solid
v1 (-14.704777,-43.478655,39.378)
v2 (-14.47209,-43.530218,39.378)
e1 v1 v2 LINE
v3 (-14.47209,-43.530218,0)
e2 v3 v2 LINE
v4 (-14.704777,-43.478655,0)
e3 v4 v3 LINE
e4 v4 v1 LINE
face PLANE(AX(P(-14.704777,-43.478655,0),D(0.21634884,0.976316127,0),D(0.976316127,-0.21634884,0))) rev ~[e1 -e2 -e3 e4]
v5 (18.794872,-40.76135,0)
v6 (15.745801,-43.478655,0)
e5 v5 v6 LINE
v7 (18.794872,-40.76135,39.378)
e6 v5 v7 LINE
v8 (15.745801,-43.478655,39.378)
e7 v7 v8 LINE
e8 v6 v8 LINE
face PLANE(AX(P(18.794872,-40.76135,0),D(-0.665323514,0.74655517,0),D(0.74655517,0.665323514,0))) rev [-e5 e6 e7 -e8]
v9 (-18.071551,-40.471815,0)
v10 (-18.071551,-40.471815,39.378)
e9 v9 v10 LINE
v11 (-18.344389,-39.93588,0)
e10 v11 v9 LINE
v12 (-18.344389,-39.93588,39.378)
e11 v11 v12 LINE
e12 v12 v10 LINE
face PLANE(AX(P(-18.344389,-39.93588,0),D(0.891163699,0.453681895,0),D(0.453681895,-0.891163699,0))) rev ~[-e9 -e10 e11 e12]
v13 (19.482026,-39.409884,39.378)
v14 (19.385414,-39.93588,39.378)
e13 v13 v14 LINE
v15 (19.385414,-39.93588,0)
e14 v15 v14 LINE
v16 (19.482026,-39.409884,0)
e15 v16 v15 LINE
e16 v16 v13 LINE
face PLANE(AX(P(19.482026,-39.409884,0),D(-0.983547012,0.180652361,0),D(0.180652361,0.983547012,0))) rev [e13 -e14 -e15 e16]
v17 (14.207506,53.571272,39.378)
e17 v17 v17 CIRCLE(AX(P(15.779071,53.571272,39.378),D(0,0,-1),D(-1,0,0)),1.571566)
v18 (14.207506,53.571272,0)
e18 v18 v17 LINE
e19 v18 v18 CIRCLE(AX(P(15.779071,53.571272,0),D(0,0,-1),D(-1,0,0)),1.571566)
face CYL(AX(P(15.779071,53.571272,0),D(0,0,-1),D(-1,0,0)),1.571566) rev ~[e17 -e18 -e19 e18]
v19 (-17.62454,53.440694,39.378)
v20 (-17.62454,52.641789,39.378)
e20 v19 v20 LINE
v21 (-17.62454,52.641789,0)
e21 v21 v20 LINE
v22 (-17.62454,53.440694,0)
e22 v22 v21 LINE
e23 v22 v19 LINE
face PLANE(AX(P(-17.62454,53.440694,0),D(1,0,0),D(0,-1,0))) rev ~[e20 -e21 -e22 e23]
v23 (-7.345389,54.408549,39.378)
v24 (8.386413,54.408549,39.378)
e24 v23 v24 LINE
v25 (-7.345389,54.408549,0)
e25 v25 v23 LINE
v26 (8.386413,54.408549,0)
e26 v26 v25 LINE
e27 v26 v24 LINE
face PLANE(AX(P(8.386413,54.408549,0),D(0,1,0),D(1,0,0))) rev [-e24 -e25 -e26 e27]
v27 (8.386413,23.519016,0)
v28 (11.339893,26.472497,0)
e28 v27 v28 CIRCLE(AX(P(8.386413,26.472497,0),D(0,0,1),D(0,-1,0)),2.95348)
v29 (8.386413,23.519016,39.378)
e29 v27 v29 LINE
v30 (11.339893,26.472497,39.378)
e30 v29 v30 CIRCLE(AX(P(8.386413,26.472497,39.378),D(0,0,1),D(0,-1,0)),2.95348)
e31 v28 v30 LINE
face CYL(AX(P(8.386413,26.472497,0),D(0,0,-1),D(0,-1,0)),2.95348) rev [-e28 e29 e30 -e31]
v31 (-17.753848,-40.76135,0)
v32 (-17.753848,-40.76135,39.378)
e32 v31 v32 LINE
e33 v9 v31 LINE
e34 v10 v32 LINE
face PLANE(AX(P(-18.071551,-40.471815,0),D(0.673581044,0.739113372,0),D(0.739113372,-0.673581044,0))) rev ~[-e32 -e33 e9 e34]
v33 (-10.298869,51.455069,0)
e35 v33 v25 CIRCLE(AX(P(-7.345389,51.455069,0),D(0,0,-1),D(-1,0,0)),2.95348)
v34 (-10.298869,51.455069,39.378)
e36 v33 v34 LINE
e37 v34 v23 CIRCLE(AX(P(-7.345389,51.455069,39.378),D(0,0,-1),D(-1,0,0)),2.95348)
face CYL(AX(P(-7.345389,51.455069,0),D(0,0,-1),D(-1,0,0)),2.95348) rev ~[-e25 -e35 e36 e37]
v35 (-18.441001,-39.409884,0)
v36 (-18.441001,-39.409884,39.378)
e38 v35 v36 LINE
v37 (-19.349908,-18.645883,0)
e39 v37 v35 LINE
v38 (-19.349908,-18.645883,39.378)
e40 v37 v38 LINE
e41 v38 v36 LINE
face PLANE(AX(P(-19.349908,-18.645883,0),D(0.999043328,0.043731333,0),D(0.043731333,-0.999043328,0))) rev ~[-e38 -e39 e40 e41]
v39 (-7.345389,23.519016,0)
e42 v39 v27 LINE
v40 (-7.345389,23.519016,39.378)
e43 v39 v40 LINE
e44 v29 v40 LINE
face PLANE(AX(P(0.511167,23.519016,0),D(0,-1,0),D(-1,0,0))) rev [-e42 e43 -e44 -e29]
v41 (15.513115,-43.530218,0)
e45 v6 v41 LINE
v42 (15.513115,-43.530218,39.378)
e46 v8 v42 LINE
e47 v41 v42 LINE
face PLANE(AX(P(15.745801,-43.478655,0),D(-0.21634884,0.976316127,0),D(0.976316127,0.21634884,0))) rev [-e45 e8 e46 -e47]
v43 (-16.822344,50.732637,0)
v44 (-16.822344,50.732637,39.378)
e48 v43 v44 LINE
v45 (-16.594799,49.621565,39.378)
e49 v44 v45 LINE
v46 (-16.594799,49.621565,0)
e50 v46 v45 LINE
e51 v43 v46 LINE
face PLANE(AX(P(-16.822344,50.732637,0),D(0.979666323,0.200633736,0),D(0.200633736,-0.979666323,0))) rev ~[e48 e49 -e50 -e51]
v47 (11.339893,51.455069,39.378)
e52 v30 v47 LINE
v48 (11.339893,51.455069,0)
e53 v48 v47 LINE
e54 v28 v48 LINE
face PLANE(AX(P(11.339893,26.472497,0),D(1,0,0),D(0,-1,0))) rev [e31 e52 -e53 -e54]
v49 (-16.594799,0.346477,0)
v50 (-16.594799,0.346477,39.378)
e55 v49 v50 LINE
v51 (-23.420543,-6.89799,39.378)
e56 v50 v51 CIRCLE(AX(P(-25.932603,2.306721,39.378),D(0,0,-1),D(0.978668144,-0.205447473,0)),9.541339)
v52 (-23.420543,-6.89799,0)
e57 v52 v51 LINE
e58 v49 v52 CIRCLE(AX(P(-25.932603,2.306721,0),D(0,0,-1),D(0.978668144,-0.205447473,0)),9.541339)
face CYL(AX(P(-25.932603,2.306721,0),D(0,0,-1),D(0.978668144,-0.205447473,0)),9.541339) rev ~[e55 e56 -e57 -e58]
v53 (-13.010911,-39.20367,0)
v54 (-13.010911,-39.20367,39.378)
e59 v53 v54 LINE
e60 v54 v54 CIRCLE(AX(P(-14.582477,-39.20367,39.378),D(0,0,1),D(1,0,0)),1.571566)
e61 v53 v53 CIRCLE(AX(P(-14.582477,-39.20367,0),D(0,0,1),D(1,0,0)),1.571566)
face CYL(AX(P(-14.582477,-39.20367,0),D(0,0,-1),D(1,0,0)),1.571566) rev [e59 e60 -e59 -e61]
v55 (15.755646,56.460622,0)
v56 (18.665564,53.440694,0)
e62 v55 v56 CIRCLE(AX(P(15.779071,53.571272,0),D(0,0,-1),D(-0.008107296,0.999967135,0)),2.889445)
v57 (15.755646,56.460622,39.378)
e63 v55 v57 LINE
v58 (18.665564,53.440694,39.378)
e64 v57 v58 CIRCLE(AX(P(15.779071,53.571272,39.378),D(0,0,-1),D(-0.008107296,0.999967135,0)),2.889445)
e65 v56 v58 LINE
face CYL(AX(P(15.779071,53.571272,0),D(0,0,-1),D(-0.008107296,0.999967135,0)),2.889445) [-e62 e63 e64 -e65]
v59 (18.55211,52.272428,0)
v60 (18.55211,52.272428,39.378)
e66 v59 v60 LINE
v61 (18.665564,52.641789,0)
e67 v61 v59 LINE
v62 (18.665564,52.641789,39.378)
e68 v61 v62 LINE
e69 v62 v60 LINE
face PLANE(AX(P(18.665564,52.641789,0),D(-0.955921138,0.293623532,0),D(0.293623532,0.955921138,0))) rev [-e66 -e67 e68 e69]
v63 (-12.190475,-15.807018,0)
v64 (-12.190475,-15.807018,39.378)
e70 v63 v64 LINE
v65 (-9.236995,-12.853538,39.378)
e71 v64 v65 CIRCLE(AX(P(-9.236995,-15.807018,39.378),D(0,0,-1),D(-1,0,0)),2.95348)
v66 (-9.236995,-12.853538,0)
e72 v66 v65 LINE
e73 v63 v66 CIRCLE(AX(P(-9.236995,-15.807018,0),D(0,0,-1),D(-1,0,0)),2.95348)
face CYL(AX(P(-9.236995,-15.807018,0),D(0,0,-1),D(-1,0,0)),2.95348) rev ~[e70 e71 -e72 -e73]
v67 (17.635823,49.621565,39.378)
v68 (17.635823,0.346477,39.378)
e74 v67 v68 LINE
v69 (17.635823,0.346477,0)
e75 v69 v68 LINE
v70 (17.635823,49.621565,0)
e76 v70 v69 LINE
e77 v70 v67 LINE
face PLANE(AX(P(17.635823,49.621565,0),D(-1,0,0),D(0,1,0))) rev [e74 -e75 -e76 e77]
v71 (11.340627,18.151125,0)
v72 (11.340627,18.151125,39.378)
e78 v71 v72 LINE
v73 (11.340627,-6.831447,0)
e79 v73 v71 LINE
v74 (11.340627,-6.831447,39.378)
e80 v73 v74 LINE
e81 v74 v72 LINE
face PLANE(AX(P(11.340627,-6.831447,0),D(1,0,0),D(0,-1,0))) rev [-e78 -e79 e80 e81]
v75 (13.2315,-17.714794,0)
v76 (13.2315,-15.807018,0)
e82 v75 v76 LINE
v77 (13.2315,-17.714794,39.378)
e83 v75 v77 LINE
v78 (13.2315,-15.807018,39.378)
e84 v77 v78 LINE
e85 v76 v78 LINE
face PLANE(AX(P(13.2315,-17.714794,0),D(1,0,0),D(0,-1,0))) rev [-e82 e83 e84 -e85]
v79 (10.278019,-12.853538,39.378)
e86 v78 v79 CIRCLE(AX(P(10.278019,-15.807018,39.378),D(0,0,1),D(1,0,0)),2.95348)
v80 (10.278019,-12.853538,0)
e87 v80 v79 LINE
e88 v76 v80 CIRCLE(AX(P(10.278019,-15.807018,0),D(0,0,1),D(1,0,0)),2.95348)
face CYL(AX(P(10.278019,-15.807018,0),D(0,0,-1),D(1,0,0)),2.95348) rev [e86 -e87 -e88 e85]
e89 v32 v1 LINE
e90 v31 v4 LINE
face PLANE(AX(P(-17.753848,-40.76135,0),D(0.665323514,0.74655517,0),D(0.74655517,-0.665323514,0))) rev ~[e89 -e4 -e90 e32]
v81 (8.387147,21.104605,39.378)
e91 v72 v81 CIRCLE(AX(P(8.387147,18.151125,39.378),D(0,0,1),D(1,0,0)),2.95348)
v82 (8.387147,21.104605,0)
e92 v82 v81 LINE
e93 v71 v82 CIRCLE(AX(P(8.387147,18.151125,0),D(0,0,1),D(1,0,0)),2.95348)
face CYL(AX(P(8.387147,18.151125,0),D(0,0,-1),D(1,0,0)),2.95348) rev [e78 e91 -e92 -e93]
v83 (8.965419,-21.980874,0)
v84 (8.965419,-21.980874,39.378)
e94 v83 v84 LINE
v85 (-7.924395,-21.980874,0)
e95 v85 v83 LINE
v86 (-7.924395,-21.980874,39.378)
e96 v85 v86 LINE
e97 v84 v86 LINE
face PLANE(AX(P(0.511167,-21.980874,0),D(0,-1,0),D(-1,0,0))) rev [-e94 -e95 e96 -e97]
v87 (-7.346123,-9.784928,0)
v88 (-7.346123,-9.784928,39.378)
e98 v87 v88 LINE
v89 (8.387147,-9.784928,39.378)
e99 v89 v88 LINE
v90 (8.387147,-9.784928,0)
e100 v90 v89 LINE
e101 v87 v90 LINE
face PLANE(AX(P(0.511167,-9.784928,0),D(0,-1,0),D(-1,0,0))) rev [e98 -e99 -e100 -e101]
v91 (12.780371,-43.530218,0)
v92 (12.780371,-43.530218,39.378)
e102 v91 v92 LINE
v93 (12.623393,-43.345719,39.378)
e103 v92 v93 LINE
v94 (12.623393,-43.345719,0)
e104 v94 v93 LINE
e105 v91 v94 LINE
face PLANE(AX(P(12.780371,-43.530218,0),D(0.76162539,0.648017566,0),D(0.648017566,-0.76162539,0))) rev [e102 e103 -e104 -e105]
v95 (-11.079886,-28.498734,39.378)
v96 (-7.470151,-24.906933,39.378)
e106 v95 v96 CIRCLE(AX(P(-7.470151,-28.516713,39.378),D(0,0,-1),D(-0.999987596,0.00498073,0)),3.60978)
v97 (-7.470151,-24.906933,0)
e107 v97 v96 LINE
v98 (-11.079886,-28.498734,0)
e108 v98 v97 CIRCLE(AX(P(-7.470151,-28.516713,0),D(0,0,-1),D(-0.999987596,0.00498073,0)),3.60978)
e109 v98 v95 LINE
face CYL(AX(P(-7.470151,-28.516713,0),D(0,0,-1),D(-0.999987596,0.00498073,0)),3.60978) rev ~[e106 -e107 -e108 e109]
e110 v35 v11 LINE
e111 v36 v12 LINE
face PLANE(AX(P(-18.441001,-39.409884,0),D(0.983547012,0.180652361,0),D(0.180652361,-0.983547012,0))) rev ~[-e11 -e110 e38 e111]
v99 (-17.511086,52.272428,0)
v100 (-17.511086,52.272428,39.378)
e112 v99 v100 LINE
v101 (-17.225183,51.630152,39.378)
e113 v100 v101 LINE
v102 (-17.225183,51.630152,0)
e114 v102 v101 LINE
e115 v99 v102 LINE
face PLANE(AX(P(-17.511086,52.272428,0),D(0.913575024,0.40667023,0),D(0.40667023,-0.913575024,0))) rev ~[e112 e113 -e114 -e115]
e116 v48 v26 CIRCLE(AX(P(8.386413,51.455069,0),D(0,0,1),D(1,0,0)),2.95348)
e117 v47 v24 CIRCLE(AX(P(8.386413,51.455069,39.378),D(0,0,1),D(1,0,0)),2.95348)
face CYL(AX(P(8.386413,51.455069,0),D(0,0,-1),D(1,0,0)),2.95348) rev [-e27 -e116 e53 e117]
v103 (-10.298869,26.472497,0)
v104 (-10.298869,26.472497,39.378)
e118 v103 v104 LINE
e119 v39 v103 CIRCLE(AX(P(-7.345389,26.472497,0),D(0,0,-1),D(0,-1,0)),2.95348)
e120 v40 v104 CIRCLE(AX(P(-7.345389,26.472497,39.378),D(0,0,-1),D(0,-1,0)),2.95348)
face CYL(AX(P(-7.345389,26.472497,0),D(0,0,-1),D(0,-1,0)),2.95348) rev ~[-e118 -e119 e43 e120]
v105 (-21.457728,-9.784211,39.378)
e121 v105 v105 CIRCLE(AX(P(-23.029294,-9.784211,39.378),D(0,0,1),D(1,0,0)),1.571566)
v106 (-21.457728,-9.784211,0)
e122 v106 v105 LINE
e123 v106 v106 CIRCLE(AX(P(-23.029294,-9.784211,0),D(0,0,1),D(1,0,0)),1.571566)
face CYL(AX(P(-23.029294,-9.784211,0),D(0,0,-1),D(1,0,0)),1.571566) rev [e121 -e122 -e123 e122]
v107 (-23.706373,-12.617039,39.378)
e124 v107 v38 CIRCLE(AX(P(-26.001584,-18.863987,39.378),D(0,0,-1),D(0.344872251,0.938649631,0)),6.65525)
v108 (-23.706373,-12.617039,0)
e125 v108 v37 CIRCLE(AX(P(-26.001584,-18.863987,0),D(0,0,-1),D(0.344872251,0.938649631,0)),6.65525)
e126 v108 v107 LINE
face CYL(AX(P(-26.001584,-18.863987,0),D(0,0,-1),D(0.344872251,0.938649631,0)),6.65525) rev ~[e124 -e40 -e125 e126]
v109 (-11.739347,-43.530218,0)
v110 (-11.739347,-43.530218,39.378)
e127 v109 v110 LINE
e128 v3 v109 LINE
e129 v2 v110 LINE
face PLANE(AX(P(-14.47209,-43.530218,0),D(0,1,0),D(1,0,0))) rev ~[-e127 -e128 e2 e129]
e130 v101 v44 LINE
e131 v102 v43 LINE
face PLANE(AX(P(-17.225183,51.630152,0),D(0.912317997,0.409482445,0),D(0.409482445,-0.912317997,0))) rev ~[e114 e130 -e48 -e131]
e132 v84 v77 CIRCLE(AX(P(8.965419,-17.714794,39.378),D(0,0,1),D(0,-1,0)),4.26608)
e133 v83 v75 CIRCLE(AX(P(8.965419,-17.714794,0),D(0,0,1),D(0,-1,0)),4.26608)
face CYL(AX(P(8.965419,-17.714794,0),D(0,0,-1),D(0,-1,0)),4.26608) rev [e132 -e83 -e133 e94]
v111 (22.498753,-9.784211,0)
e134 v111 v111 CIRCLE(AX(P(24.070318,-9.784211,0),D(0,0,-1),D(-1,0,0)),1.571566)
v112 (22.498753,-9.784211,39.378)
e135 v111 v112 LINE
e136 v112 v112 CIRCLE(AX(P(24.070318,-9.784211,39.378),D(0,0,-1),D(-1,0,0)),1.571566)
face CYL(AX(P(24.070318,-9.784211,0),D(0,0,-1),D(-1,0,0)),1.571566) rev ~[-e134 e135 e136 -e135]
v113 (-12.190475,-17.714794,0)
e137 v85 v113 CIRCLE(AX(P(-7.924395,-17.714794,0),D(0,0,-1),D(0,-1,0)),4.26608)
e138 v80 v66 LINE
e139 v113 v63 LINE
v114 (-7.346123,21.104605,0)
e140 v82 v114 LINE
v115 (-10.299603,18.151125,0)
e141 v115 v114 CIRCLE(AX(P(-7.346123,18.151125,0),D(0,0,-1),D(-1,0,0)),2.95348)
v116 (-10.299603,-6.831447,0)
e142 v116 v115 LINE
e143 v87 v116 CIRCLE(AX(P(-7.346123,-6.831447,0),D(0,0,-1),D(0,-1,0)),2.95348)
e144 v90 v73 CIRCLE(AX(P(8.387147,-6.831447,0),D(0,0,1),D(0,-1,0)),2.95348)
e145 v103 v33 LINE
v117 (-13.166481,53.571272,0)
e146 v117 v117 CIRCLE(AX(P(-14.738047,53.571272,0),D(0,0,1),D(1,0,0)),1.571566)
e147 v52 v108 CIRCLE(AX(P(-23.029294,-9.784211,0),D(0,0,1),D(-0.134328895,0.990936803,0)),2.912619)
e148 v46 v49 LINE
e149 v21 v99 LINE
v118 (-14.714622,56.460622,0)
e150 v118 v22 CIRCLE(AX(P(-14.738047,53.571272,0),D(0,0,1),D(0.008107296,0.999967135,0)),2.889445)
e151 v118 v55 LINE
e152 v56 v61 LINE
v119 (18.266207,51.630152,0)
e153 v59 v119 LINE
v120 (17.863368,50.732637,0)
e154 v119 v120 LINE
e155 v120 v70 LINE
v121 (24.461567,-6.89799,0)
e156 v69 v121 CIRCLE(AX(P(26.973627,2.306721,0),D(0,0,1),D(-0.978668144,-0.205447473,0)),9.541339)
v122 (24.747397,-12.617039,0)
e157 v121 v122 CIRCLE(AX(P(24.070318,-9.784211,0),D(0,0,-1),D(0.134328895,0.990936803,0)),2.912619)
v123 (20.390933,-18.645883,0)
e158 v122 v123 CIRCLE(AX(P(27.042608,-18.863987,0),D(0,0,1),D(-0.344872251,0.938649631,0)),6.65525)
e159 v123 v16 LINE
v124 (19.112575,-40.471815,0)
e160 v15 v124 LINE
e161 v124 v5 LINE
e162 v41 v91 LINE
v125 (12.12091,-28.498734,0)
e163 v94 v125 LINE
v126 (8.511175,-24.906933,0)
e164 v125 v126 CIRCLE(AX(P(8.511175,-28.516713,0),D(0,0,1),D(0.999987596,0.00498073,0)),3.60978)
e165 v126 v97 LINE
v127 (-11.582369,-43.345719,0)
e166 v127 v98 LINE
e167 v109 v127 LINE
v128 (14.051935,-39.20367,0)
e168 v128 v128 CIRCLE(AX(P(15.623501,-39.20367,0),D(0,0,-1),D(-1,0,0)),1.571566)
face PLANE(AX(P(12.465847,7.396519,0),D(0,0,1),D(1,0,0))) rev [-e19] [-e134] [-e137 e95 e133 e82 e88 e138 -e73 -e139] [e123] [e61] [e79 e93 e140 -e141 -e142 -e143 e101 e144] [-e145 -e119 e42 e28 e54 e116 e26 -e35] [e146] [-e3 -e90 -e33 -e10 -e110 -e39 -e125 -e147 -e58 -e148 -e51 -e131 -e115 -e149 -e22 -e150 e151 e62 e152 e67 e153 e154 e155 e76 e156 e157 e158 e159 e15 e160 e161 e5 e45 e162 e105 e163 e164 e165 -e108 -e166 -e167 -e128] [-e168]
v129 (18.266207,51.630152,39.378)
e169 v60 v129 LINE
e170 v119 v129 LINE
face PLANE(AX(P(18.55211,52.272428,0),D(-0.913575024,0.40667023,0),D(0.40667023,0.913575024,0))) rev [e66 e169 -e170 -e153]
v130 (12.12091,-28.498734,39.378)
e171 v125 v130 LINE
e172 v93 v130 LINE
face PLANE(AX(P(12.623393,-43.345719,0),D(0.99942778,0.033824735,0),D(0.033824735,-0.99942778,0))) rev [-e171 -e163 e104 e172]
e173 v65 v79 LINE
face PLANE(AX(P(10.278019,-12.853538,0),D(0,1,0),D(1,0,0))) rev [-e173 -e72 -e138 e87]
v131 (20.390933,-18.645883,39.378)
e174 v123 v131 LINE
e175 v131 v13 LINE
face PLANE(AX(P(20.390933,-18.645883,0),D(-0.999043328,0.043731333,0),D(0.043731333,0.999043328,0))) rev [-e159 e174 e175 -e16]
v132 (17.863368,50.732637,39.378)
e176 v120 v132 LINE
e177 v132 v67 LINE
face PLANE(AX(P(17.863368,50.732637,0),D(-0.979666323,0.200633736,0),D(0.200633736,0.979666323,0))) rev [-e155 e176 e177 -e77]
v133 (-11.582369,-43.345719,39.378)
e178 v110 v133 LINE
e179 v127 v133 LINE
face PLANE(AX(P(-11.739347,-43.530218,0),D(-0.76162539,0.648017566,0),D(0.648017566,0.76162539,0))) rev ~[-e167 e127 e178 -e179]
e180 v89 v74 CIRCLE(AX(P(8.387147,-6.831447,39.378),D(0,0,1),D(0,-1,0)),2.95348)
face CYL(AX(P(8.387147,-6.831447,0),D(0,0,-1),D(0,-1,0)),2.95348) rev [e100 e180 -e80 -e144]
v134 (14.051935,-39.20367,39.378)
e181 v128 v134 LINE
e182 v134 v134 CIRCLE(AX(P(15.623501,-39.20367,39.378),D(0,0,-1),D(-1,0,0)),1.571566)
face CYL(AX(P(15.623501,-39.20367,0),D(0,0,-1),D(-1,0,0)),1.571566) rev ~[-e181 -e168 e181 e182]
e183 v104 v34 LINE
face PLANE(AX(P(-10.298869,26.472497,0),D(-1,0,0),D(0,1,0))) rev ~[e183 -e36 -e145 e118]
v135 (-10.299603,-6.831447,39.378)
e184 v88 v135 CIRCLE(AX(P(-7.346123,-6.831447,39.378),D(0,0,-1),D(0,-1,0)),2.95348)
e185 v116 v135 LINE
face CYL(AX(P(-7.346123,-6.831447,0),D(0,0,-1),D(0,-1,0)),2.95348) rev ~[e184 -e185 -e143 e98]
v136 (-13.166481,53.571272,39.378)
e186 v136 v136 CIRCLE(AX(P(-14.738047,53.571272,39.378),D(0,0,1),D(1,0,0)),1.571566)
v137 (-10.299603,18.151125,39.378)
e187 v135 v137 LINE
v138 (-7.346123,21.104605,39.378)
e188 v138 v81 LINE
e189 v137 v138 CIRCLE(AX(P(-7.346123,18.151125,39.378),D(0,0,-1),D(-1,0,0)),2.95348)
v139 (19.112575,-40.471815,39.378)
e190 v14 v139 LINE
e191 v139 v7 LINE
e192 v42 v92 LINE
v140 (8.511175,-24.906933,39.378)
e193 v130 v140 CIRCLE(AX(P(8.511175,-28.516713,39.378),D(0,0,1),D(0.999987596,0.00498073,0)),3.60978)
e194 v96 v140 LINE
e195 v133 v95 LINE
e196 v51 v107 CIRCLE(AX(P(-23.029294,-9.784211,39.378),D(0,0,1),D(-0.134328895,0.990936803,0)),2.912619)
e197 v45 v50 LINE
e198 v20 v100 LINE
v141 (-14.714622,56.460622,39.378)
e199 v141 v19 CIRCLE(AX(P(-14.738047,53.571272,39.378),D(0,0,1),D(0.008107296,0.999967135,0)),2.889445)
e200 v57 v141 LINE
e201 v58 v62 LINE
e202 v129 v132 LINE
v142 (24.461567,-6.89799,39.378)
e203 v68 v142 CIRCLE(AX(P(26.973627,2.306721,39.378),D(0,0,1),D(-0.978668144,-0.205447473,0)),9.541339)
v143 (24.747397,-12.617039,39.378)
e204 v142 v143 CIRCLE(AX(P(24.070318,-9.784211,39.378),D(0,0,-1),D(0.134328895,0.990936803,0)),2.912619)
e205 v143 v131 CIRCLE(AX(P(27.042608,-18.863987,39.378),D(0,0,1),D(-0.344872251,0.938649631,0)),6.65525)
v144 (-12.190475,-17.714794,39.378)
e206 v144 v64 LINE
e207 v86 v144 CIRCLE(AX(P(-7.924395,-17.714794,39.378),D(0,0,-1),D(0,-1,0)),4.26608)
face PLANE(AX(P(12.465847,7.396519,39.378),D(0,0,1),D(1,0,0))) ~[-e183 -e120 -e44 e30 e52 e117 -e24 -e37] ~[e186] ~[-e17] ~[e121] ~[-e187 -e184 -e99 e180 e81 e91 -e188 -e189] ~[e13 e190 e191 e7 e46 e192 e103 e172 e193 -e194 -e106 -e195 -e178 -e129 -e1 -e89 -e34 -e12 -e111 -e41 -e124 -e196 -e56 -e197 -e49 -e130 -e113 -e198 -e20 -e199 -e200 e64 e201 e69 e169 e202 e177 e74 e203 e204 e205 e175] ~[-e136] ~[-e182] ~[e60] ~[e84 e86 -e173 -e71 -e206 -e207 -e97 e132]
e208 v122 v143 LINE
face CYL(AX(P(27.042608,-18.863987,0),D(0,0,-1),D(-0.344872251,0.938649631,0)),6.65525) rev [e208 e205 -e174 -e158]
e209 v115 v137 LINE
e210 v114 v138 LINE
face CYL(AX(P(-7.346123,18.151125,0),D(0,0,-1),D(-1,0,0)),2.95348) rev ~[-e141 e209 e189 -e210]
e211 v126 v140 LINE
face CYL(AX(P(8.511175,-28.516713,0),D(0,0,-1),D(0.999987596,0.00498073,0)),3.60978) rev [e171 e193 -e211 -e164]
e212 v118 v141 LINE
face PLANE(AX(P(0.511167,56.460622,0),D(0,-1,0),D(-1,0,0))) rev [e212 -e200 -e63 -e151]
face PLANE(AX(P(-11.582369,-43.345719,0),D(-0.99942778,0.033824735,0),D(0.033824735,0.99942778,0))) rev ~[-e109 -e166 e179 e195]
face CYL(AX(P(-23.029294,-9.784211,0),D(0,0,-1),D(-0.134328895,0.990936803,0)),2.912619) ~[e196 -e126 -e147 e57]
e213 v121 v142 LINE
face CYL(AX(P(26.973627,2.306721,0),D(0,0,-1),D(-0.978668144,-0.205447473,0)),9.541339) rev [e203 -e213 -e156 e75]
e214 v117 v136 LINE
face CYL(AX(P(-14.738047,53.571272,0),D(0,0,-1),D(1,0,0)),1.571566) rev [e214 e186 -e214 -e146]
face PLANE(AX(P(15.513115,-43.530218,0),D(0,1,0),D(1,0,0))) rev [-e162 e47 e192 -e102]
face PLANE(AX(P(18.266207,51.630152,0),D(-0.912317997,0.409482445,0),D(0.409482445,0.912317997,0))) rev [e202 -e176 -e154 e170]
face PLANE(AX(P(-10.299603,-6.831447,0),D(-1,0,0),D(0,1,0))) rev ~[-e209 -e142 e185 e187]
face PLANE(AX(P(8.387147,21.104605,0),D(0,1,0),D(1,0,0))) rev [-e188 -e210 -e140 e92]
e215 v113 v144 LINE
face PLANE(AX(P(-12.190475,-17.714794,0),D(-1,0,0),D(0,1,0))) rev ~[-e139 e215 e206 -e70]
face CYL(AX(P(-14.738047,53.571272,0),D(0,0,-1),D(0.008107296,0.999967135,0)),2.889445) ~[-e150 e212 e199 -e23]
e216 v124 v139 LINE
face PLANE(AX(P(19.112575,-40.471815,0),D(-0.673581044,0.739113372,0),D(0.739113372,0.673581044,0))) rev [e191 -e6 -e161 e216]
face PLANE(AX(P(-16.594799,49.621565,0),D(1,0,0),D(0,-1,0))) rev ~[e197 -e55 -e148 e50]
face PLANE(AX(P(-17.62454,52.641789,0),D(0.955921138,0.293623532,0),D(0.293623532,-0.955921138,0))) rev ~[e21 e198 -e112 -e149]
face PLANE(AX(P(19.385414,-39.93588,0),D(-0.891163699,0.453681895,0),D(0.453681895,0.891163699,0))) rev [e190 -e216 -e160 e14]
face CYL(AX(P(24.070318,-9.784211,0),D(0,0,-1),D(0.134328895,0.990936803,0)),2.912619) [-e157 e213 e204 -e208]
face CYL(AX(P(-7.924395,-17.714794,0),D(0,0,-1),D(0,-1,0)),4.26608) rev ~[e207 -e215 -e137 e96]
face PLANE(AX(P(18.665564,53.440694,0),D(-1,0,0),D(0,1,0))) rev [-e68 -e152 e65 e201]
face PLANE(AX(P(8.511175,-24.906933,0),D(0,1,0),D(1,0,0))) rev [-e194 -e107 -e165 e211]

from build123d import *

# Parameters (mm, degrees)
F0_R     = 2.3945844673
F1_DEPTH = 60
F3_SCALE = 0.6563


with BuildPart() as f1:
    # F0 (on Top) → F1 (new body)
    with BuildSketch(Plane.XY):
        with BuildLine():
            Line((-27.0389984867, 83.2772081509), (-26.4251961202, 81.9096698061))
            Line((-26.4251961202, 81.9096698061), (-26.0784868151, 80.2167370168))
            Line((-26.0784868151, 80.2167370168), (-26.0784868151, 5.1366092342))
            ThreePointArc((-26.0784868151, 5.1366092342), (-29.7252239834, -1.8462109586), (-36.4788286904, -5.9017372231))
            ThreePointArc((-36.4788286904, -5.9017372231), (-40.3150914077, -10.07792875), (-36.9143450669, -14.6158150015))
            ThreePointArc((-36.9143450669, -14.6158150015), (-32.1922887959, -18.1949867477), (-30.2764291391, -23.8019259832))
            Line((-30.2764291391, -23.8019259832), (-28.8915335984, -55.4398973488))
            Line((-28.8915335984, -55.4398973488), (-28.7443264889, -56.2413544219))
            Line((-28.7443264889, -56.2413544219), (-28.3286040912, -57.0579545856))
            Line((-28.3286040912, -57.0579545856), (-27.844521729, -57.4991165442))
            Line((-27.844521729, -57.4991165442), (-23.1986730857, -61.6394566898))
            Line((-23.1986730857, -61.6394566898), (-22.8441298419, -61.7180224508))
            Line((-22.8441298419, -61.7180224508), (-18.6802665162, -61.7180224508))
            Line((-18.6802665162, -61.7180224508), (-18.4410806307, -61.4369034612))
            Line((-18.4410806307, -61.4369034612), (-17.6754507656, -38.8146494524))
            ThreePointArc((-17.6754507656, -38.8146494524), (-16.0548504259, -34.9431431488), (-12.175320372, -33.3418458372))
            Line((-12.175320372, -33.3418458372), (0.0142386856, -33.3418458372))
            Line((0.0142386856, -33.3418458372), (0.0142386856, -28.883429572))
            Line((0.0142386856, -28.883429572), (-12.867449671, -28.883429572))
            ThreePointArc((-12.867449671, -28.883429572), (-17.4637841926, -26.979565476), (-19.3676482886, -22.3832309544))
            Line((-19.3676482886, -22.3832309544), (-19.3676482886, -19.4763654619))
            ThreePointArc((-19.3676482886, -19.4763654619), (-18.0495706302, -16.2942445028), (-14.867449671, -14.9761668444))
            Line((-14.867449671, -14.9761668444), (0.0142386856, -14.9761668444))
            Line((0.0142386856, -14.9761668444), (0.0142386856, -10.3005459473))
            Line((0.0142386856, -10.3005459473), (-11.9863399565, -10.3005459473))
            ThreePointArc((-11.9863399565, -10.3005459473), (-15.1684609157, -8.9824682889), (-16.4865385741, -5.8003473297))
            Line((-16.4865385741, -5.8003473297), (-16.4865385741, 32.2654335052))
            ThreePointArc((-16.4865385741, 32.2654335052), (-15.1684609157, 35.4475544644), (-11.9863399565, 36.7656321228))
            Line((-11.9863399565, 36.7656321228), (0.0142386856, 36.7656321228))
            Line((0.0142386856, 36.7656321228), (0.0142386856, 40.4444549151))
            Line((0.0142386856, 40.4444549151), (-11.9852216709, 40.4444549151))
            ThreePointArc((-11.9852216709, 40.4444549151), (-15.1673426301, 41.7625325735), (-16.4854202885, 44.9446535327))
            Line((-16.4854202885, 44.9446535327), (-16.4854202885, 83.0104343675))
            ThreePointArc((-16.4854202885, 83.0104343675), (-15.1673426301, 86.1925553267), (-11.9852216709, 87.5106329851))
            Line((-11.9852216709, 87.5106329851), (0.0142386856, 87.5106329851))
            Line((0.0142386856, 87.5106329851), (0.0142386856, 90.6373629034))
            Line((0.0142386856, 90.6373629034), (-23.213673197, 90.6373629034))
            ThreePointArc((-23.213673197, 90.6373629034), (-26.4197034776, 89.2897278228), (-27.6474967488, 86.0359186467))
            Line((-27.6474967488, 86.0359186467), (-27.6474967488, 84.8186316031))
            Line((-27.6474967488, 84.8186316031), (-27.4746276334, 84.2558386951))
            Line((-27.4746276334, 84.2558386951), (-27.0389984867, 83.2772081509))
        make_face()
        with Locations((-23.0123251677, -55.1256909966)):
            Circle(F0_R, mode=Mode.SUBTRACT)
        with Locations((-35.8826853335, -10.2994536757)):
            Circle(F0_R, mode=Mode.SUBTRACT)
        with Locations((-23.2493666078, 86.2348794977)):
            Circle(F0_R, mode=Mode.SUBTRACT)
    extrude(amount=F1_DEPTH)

    # F2: F1 across plane


with BuildPart() as f1_1:
    add(f1.part)
    add(f1.part.mirror(Plane.YZ))


with BuildPart() as f1_2:
    # F3: moved
    add(f1_1.part.scale(F3_SCALE).moved(Location((0.5205121011, -3.0246793772, 0))))


solid = f1_2.part
